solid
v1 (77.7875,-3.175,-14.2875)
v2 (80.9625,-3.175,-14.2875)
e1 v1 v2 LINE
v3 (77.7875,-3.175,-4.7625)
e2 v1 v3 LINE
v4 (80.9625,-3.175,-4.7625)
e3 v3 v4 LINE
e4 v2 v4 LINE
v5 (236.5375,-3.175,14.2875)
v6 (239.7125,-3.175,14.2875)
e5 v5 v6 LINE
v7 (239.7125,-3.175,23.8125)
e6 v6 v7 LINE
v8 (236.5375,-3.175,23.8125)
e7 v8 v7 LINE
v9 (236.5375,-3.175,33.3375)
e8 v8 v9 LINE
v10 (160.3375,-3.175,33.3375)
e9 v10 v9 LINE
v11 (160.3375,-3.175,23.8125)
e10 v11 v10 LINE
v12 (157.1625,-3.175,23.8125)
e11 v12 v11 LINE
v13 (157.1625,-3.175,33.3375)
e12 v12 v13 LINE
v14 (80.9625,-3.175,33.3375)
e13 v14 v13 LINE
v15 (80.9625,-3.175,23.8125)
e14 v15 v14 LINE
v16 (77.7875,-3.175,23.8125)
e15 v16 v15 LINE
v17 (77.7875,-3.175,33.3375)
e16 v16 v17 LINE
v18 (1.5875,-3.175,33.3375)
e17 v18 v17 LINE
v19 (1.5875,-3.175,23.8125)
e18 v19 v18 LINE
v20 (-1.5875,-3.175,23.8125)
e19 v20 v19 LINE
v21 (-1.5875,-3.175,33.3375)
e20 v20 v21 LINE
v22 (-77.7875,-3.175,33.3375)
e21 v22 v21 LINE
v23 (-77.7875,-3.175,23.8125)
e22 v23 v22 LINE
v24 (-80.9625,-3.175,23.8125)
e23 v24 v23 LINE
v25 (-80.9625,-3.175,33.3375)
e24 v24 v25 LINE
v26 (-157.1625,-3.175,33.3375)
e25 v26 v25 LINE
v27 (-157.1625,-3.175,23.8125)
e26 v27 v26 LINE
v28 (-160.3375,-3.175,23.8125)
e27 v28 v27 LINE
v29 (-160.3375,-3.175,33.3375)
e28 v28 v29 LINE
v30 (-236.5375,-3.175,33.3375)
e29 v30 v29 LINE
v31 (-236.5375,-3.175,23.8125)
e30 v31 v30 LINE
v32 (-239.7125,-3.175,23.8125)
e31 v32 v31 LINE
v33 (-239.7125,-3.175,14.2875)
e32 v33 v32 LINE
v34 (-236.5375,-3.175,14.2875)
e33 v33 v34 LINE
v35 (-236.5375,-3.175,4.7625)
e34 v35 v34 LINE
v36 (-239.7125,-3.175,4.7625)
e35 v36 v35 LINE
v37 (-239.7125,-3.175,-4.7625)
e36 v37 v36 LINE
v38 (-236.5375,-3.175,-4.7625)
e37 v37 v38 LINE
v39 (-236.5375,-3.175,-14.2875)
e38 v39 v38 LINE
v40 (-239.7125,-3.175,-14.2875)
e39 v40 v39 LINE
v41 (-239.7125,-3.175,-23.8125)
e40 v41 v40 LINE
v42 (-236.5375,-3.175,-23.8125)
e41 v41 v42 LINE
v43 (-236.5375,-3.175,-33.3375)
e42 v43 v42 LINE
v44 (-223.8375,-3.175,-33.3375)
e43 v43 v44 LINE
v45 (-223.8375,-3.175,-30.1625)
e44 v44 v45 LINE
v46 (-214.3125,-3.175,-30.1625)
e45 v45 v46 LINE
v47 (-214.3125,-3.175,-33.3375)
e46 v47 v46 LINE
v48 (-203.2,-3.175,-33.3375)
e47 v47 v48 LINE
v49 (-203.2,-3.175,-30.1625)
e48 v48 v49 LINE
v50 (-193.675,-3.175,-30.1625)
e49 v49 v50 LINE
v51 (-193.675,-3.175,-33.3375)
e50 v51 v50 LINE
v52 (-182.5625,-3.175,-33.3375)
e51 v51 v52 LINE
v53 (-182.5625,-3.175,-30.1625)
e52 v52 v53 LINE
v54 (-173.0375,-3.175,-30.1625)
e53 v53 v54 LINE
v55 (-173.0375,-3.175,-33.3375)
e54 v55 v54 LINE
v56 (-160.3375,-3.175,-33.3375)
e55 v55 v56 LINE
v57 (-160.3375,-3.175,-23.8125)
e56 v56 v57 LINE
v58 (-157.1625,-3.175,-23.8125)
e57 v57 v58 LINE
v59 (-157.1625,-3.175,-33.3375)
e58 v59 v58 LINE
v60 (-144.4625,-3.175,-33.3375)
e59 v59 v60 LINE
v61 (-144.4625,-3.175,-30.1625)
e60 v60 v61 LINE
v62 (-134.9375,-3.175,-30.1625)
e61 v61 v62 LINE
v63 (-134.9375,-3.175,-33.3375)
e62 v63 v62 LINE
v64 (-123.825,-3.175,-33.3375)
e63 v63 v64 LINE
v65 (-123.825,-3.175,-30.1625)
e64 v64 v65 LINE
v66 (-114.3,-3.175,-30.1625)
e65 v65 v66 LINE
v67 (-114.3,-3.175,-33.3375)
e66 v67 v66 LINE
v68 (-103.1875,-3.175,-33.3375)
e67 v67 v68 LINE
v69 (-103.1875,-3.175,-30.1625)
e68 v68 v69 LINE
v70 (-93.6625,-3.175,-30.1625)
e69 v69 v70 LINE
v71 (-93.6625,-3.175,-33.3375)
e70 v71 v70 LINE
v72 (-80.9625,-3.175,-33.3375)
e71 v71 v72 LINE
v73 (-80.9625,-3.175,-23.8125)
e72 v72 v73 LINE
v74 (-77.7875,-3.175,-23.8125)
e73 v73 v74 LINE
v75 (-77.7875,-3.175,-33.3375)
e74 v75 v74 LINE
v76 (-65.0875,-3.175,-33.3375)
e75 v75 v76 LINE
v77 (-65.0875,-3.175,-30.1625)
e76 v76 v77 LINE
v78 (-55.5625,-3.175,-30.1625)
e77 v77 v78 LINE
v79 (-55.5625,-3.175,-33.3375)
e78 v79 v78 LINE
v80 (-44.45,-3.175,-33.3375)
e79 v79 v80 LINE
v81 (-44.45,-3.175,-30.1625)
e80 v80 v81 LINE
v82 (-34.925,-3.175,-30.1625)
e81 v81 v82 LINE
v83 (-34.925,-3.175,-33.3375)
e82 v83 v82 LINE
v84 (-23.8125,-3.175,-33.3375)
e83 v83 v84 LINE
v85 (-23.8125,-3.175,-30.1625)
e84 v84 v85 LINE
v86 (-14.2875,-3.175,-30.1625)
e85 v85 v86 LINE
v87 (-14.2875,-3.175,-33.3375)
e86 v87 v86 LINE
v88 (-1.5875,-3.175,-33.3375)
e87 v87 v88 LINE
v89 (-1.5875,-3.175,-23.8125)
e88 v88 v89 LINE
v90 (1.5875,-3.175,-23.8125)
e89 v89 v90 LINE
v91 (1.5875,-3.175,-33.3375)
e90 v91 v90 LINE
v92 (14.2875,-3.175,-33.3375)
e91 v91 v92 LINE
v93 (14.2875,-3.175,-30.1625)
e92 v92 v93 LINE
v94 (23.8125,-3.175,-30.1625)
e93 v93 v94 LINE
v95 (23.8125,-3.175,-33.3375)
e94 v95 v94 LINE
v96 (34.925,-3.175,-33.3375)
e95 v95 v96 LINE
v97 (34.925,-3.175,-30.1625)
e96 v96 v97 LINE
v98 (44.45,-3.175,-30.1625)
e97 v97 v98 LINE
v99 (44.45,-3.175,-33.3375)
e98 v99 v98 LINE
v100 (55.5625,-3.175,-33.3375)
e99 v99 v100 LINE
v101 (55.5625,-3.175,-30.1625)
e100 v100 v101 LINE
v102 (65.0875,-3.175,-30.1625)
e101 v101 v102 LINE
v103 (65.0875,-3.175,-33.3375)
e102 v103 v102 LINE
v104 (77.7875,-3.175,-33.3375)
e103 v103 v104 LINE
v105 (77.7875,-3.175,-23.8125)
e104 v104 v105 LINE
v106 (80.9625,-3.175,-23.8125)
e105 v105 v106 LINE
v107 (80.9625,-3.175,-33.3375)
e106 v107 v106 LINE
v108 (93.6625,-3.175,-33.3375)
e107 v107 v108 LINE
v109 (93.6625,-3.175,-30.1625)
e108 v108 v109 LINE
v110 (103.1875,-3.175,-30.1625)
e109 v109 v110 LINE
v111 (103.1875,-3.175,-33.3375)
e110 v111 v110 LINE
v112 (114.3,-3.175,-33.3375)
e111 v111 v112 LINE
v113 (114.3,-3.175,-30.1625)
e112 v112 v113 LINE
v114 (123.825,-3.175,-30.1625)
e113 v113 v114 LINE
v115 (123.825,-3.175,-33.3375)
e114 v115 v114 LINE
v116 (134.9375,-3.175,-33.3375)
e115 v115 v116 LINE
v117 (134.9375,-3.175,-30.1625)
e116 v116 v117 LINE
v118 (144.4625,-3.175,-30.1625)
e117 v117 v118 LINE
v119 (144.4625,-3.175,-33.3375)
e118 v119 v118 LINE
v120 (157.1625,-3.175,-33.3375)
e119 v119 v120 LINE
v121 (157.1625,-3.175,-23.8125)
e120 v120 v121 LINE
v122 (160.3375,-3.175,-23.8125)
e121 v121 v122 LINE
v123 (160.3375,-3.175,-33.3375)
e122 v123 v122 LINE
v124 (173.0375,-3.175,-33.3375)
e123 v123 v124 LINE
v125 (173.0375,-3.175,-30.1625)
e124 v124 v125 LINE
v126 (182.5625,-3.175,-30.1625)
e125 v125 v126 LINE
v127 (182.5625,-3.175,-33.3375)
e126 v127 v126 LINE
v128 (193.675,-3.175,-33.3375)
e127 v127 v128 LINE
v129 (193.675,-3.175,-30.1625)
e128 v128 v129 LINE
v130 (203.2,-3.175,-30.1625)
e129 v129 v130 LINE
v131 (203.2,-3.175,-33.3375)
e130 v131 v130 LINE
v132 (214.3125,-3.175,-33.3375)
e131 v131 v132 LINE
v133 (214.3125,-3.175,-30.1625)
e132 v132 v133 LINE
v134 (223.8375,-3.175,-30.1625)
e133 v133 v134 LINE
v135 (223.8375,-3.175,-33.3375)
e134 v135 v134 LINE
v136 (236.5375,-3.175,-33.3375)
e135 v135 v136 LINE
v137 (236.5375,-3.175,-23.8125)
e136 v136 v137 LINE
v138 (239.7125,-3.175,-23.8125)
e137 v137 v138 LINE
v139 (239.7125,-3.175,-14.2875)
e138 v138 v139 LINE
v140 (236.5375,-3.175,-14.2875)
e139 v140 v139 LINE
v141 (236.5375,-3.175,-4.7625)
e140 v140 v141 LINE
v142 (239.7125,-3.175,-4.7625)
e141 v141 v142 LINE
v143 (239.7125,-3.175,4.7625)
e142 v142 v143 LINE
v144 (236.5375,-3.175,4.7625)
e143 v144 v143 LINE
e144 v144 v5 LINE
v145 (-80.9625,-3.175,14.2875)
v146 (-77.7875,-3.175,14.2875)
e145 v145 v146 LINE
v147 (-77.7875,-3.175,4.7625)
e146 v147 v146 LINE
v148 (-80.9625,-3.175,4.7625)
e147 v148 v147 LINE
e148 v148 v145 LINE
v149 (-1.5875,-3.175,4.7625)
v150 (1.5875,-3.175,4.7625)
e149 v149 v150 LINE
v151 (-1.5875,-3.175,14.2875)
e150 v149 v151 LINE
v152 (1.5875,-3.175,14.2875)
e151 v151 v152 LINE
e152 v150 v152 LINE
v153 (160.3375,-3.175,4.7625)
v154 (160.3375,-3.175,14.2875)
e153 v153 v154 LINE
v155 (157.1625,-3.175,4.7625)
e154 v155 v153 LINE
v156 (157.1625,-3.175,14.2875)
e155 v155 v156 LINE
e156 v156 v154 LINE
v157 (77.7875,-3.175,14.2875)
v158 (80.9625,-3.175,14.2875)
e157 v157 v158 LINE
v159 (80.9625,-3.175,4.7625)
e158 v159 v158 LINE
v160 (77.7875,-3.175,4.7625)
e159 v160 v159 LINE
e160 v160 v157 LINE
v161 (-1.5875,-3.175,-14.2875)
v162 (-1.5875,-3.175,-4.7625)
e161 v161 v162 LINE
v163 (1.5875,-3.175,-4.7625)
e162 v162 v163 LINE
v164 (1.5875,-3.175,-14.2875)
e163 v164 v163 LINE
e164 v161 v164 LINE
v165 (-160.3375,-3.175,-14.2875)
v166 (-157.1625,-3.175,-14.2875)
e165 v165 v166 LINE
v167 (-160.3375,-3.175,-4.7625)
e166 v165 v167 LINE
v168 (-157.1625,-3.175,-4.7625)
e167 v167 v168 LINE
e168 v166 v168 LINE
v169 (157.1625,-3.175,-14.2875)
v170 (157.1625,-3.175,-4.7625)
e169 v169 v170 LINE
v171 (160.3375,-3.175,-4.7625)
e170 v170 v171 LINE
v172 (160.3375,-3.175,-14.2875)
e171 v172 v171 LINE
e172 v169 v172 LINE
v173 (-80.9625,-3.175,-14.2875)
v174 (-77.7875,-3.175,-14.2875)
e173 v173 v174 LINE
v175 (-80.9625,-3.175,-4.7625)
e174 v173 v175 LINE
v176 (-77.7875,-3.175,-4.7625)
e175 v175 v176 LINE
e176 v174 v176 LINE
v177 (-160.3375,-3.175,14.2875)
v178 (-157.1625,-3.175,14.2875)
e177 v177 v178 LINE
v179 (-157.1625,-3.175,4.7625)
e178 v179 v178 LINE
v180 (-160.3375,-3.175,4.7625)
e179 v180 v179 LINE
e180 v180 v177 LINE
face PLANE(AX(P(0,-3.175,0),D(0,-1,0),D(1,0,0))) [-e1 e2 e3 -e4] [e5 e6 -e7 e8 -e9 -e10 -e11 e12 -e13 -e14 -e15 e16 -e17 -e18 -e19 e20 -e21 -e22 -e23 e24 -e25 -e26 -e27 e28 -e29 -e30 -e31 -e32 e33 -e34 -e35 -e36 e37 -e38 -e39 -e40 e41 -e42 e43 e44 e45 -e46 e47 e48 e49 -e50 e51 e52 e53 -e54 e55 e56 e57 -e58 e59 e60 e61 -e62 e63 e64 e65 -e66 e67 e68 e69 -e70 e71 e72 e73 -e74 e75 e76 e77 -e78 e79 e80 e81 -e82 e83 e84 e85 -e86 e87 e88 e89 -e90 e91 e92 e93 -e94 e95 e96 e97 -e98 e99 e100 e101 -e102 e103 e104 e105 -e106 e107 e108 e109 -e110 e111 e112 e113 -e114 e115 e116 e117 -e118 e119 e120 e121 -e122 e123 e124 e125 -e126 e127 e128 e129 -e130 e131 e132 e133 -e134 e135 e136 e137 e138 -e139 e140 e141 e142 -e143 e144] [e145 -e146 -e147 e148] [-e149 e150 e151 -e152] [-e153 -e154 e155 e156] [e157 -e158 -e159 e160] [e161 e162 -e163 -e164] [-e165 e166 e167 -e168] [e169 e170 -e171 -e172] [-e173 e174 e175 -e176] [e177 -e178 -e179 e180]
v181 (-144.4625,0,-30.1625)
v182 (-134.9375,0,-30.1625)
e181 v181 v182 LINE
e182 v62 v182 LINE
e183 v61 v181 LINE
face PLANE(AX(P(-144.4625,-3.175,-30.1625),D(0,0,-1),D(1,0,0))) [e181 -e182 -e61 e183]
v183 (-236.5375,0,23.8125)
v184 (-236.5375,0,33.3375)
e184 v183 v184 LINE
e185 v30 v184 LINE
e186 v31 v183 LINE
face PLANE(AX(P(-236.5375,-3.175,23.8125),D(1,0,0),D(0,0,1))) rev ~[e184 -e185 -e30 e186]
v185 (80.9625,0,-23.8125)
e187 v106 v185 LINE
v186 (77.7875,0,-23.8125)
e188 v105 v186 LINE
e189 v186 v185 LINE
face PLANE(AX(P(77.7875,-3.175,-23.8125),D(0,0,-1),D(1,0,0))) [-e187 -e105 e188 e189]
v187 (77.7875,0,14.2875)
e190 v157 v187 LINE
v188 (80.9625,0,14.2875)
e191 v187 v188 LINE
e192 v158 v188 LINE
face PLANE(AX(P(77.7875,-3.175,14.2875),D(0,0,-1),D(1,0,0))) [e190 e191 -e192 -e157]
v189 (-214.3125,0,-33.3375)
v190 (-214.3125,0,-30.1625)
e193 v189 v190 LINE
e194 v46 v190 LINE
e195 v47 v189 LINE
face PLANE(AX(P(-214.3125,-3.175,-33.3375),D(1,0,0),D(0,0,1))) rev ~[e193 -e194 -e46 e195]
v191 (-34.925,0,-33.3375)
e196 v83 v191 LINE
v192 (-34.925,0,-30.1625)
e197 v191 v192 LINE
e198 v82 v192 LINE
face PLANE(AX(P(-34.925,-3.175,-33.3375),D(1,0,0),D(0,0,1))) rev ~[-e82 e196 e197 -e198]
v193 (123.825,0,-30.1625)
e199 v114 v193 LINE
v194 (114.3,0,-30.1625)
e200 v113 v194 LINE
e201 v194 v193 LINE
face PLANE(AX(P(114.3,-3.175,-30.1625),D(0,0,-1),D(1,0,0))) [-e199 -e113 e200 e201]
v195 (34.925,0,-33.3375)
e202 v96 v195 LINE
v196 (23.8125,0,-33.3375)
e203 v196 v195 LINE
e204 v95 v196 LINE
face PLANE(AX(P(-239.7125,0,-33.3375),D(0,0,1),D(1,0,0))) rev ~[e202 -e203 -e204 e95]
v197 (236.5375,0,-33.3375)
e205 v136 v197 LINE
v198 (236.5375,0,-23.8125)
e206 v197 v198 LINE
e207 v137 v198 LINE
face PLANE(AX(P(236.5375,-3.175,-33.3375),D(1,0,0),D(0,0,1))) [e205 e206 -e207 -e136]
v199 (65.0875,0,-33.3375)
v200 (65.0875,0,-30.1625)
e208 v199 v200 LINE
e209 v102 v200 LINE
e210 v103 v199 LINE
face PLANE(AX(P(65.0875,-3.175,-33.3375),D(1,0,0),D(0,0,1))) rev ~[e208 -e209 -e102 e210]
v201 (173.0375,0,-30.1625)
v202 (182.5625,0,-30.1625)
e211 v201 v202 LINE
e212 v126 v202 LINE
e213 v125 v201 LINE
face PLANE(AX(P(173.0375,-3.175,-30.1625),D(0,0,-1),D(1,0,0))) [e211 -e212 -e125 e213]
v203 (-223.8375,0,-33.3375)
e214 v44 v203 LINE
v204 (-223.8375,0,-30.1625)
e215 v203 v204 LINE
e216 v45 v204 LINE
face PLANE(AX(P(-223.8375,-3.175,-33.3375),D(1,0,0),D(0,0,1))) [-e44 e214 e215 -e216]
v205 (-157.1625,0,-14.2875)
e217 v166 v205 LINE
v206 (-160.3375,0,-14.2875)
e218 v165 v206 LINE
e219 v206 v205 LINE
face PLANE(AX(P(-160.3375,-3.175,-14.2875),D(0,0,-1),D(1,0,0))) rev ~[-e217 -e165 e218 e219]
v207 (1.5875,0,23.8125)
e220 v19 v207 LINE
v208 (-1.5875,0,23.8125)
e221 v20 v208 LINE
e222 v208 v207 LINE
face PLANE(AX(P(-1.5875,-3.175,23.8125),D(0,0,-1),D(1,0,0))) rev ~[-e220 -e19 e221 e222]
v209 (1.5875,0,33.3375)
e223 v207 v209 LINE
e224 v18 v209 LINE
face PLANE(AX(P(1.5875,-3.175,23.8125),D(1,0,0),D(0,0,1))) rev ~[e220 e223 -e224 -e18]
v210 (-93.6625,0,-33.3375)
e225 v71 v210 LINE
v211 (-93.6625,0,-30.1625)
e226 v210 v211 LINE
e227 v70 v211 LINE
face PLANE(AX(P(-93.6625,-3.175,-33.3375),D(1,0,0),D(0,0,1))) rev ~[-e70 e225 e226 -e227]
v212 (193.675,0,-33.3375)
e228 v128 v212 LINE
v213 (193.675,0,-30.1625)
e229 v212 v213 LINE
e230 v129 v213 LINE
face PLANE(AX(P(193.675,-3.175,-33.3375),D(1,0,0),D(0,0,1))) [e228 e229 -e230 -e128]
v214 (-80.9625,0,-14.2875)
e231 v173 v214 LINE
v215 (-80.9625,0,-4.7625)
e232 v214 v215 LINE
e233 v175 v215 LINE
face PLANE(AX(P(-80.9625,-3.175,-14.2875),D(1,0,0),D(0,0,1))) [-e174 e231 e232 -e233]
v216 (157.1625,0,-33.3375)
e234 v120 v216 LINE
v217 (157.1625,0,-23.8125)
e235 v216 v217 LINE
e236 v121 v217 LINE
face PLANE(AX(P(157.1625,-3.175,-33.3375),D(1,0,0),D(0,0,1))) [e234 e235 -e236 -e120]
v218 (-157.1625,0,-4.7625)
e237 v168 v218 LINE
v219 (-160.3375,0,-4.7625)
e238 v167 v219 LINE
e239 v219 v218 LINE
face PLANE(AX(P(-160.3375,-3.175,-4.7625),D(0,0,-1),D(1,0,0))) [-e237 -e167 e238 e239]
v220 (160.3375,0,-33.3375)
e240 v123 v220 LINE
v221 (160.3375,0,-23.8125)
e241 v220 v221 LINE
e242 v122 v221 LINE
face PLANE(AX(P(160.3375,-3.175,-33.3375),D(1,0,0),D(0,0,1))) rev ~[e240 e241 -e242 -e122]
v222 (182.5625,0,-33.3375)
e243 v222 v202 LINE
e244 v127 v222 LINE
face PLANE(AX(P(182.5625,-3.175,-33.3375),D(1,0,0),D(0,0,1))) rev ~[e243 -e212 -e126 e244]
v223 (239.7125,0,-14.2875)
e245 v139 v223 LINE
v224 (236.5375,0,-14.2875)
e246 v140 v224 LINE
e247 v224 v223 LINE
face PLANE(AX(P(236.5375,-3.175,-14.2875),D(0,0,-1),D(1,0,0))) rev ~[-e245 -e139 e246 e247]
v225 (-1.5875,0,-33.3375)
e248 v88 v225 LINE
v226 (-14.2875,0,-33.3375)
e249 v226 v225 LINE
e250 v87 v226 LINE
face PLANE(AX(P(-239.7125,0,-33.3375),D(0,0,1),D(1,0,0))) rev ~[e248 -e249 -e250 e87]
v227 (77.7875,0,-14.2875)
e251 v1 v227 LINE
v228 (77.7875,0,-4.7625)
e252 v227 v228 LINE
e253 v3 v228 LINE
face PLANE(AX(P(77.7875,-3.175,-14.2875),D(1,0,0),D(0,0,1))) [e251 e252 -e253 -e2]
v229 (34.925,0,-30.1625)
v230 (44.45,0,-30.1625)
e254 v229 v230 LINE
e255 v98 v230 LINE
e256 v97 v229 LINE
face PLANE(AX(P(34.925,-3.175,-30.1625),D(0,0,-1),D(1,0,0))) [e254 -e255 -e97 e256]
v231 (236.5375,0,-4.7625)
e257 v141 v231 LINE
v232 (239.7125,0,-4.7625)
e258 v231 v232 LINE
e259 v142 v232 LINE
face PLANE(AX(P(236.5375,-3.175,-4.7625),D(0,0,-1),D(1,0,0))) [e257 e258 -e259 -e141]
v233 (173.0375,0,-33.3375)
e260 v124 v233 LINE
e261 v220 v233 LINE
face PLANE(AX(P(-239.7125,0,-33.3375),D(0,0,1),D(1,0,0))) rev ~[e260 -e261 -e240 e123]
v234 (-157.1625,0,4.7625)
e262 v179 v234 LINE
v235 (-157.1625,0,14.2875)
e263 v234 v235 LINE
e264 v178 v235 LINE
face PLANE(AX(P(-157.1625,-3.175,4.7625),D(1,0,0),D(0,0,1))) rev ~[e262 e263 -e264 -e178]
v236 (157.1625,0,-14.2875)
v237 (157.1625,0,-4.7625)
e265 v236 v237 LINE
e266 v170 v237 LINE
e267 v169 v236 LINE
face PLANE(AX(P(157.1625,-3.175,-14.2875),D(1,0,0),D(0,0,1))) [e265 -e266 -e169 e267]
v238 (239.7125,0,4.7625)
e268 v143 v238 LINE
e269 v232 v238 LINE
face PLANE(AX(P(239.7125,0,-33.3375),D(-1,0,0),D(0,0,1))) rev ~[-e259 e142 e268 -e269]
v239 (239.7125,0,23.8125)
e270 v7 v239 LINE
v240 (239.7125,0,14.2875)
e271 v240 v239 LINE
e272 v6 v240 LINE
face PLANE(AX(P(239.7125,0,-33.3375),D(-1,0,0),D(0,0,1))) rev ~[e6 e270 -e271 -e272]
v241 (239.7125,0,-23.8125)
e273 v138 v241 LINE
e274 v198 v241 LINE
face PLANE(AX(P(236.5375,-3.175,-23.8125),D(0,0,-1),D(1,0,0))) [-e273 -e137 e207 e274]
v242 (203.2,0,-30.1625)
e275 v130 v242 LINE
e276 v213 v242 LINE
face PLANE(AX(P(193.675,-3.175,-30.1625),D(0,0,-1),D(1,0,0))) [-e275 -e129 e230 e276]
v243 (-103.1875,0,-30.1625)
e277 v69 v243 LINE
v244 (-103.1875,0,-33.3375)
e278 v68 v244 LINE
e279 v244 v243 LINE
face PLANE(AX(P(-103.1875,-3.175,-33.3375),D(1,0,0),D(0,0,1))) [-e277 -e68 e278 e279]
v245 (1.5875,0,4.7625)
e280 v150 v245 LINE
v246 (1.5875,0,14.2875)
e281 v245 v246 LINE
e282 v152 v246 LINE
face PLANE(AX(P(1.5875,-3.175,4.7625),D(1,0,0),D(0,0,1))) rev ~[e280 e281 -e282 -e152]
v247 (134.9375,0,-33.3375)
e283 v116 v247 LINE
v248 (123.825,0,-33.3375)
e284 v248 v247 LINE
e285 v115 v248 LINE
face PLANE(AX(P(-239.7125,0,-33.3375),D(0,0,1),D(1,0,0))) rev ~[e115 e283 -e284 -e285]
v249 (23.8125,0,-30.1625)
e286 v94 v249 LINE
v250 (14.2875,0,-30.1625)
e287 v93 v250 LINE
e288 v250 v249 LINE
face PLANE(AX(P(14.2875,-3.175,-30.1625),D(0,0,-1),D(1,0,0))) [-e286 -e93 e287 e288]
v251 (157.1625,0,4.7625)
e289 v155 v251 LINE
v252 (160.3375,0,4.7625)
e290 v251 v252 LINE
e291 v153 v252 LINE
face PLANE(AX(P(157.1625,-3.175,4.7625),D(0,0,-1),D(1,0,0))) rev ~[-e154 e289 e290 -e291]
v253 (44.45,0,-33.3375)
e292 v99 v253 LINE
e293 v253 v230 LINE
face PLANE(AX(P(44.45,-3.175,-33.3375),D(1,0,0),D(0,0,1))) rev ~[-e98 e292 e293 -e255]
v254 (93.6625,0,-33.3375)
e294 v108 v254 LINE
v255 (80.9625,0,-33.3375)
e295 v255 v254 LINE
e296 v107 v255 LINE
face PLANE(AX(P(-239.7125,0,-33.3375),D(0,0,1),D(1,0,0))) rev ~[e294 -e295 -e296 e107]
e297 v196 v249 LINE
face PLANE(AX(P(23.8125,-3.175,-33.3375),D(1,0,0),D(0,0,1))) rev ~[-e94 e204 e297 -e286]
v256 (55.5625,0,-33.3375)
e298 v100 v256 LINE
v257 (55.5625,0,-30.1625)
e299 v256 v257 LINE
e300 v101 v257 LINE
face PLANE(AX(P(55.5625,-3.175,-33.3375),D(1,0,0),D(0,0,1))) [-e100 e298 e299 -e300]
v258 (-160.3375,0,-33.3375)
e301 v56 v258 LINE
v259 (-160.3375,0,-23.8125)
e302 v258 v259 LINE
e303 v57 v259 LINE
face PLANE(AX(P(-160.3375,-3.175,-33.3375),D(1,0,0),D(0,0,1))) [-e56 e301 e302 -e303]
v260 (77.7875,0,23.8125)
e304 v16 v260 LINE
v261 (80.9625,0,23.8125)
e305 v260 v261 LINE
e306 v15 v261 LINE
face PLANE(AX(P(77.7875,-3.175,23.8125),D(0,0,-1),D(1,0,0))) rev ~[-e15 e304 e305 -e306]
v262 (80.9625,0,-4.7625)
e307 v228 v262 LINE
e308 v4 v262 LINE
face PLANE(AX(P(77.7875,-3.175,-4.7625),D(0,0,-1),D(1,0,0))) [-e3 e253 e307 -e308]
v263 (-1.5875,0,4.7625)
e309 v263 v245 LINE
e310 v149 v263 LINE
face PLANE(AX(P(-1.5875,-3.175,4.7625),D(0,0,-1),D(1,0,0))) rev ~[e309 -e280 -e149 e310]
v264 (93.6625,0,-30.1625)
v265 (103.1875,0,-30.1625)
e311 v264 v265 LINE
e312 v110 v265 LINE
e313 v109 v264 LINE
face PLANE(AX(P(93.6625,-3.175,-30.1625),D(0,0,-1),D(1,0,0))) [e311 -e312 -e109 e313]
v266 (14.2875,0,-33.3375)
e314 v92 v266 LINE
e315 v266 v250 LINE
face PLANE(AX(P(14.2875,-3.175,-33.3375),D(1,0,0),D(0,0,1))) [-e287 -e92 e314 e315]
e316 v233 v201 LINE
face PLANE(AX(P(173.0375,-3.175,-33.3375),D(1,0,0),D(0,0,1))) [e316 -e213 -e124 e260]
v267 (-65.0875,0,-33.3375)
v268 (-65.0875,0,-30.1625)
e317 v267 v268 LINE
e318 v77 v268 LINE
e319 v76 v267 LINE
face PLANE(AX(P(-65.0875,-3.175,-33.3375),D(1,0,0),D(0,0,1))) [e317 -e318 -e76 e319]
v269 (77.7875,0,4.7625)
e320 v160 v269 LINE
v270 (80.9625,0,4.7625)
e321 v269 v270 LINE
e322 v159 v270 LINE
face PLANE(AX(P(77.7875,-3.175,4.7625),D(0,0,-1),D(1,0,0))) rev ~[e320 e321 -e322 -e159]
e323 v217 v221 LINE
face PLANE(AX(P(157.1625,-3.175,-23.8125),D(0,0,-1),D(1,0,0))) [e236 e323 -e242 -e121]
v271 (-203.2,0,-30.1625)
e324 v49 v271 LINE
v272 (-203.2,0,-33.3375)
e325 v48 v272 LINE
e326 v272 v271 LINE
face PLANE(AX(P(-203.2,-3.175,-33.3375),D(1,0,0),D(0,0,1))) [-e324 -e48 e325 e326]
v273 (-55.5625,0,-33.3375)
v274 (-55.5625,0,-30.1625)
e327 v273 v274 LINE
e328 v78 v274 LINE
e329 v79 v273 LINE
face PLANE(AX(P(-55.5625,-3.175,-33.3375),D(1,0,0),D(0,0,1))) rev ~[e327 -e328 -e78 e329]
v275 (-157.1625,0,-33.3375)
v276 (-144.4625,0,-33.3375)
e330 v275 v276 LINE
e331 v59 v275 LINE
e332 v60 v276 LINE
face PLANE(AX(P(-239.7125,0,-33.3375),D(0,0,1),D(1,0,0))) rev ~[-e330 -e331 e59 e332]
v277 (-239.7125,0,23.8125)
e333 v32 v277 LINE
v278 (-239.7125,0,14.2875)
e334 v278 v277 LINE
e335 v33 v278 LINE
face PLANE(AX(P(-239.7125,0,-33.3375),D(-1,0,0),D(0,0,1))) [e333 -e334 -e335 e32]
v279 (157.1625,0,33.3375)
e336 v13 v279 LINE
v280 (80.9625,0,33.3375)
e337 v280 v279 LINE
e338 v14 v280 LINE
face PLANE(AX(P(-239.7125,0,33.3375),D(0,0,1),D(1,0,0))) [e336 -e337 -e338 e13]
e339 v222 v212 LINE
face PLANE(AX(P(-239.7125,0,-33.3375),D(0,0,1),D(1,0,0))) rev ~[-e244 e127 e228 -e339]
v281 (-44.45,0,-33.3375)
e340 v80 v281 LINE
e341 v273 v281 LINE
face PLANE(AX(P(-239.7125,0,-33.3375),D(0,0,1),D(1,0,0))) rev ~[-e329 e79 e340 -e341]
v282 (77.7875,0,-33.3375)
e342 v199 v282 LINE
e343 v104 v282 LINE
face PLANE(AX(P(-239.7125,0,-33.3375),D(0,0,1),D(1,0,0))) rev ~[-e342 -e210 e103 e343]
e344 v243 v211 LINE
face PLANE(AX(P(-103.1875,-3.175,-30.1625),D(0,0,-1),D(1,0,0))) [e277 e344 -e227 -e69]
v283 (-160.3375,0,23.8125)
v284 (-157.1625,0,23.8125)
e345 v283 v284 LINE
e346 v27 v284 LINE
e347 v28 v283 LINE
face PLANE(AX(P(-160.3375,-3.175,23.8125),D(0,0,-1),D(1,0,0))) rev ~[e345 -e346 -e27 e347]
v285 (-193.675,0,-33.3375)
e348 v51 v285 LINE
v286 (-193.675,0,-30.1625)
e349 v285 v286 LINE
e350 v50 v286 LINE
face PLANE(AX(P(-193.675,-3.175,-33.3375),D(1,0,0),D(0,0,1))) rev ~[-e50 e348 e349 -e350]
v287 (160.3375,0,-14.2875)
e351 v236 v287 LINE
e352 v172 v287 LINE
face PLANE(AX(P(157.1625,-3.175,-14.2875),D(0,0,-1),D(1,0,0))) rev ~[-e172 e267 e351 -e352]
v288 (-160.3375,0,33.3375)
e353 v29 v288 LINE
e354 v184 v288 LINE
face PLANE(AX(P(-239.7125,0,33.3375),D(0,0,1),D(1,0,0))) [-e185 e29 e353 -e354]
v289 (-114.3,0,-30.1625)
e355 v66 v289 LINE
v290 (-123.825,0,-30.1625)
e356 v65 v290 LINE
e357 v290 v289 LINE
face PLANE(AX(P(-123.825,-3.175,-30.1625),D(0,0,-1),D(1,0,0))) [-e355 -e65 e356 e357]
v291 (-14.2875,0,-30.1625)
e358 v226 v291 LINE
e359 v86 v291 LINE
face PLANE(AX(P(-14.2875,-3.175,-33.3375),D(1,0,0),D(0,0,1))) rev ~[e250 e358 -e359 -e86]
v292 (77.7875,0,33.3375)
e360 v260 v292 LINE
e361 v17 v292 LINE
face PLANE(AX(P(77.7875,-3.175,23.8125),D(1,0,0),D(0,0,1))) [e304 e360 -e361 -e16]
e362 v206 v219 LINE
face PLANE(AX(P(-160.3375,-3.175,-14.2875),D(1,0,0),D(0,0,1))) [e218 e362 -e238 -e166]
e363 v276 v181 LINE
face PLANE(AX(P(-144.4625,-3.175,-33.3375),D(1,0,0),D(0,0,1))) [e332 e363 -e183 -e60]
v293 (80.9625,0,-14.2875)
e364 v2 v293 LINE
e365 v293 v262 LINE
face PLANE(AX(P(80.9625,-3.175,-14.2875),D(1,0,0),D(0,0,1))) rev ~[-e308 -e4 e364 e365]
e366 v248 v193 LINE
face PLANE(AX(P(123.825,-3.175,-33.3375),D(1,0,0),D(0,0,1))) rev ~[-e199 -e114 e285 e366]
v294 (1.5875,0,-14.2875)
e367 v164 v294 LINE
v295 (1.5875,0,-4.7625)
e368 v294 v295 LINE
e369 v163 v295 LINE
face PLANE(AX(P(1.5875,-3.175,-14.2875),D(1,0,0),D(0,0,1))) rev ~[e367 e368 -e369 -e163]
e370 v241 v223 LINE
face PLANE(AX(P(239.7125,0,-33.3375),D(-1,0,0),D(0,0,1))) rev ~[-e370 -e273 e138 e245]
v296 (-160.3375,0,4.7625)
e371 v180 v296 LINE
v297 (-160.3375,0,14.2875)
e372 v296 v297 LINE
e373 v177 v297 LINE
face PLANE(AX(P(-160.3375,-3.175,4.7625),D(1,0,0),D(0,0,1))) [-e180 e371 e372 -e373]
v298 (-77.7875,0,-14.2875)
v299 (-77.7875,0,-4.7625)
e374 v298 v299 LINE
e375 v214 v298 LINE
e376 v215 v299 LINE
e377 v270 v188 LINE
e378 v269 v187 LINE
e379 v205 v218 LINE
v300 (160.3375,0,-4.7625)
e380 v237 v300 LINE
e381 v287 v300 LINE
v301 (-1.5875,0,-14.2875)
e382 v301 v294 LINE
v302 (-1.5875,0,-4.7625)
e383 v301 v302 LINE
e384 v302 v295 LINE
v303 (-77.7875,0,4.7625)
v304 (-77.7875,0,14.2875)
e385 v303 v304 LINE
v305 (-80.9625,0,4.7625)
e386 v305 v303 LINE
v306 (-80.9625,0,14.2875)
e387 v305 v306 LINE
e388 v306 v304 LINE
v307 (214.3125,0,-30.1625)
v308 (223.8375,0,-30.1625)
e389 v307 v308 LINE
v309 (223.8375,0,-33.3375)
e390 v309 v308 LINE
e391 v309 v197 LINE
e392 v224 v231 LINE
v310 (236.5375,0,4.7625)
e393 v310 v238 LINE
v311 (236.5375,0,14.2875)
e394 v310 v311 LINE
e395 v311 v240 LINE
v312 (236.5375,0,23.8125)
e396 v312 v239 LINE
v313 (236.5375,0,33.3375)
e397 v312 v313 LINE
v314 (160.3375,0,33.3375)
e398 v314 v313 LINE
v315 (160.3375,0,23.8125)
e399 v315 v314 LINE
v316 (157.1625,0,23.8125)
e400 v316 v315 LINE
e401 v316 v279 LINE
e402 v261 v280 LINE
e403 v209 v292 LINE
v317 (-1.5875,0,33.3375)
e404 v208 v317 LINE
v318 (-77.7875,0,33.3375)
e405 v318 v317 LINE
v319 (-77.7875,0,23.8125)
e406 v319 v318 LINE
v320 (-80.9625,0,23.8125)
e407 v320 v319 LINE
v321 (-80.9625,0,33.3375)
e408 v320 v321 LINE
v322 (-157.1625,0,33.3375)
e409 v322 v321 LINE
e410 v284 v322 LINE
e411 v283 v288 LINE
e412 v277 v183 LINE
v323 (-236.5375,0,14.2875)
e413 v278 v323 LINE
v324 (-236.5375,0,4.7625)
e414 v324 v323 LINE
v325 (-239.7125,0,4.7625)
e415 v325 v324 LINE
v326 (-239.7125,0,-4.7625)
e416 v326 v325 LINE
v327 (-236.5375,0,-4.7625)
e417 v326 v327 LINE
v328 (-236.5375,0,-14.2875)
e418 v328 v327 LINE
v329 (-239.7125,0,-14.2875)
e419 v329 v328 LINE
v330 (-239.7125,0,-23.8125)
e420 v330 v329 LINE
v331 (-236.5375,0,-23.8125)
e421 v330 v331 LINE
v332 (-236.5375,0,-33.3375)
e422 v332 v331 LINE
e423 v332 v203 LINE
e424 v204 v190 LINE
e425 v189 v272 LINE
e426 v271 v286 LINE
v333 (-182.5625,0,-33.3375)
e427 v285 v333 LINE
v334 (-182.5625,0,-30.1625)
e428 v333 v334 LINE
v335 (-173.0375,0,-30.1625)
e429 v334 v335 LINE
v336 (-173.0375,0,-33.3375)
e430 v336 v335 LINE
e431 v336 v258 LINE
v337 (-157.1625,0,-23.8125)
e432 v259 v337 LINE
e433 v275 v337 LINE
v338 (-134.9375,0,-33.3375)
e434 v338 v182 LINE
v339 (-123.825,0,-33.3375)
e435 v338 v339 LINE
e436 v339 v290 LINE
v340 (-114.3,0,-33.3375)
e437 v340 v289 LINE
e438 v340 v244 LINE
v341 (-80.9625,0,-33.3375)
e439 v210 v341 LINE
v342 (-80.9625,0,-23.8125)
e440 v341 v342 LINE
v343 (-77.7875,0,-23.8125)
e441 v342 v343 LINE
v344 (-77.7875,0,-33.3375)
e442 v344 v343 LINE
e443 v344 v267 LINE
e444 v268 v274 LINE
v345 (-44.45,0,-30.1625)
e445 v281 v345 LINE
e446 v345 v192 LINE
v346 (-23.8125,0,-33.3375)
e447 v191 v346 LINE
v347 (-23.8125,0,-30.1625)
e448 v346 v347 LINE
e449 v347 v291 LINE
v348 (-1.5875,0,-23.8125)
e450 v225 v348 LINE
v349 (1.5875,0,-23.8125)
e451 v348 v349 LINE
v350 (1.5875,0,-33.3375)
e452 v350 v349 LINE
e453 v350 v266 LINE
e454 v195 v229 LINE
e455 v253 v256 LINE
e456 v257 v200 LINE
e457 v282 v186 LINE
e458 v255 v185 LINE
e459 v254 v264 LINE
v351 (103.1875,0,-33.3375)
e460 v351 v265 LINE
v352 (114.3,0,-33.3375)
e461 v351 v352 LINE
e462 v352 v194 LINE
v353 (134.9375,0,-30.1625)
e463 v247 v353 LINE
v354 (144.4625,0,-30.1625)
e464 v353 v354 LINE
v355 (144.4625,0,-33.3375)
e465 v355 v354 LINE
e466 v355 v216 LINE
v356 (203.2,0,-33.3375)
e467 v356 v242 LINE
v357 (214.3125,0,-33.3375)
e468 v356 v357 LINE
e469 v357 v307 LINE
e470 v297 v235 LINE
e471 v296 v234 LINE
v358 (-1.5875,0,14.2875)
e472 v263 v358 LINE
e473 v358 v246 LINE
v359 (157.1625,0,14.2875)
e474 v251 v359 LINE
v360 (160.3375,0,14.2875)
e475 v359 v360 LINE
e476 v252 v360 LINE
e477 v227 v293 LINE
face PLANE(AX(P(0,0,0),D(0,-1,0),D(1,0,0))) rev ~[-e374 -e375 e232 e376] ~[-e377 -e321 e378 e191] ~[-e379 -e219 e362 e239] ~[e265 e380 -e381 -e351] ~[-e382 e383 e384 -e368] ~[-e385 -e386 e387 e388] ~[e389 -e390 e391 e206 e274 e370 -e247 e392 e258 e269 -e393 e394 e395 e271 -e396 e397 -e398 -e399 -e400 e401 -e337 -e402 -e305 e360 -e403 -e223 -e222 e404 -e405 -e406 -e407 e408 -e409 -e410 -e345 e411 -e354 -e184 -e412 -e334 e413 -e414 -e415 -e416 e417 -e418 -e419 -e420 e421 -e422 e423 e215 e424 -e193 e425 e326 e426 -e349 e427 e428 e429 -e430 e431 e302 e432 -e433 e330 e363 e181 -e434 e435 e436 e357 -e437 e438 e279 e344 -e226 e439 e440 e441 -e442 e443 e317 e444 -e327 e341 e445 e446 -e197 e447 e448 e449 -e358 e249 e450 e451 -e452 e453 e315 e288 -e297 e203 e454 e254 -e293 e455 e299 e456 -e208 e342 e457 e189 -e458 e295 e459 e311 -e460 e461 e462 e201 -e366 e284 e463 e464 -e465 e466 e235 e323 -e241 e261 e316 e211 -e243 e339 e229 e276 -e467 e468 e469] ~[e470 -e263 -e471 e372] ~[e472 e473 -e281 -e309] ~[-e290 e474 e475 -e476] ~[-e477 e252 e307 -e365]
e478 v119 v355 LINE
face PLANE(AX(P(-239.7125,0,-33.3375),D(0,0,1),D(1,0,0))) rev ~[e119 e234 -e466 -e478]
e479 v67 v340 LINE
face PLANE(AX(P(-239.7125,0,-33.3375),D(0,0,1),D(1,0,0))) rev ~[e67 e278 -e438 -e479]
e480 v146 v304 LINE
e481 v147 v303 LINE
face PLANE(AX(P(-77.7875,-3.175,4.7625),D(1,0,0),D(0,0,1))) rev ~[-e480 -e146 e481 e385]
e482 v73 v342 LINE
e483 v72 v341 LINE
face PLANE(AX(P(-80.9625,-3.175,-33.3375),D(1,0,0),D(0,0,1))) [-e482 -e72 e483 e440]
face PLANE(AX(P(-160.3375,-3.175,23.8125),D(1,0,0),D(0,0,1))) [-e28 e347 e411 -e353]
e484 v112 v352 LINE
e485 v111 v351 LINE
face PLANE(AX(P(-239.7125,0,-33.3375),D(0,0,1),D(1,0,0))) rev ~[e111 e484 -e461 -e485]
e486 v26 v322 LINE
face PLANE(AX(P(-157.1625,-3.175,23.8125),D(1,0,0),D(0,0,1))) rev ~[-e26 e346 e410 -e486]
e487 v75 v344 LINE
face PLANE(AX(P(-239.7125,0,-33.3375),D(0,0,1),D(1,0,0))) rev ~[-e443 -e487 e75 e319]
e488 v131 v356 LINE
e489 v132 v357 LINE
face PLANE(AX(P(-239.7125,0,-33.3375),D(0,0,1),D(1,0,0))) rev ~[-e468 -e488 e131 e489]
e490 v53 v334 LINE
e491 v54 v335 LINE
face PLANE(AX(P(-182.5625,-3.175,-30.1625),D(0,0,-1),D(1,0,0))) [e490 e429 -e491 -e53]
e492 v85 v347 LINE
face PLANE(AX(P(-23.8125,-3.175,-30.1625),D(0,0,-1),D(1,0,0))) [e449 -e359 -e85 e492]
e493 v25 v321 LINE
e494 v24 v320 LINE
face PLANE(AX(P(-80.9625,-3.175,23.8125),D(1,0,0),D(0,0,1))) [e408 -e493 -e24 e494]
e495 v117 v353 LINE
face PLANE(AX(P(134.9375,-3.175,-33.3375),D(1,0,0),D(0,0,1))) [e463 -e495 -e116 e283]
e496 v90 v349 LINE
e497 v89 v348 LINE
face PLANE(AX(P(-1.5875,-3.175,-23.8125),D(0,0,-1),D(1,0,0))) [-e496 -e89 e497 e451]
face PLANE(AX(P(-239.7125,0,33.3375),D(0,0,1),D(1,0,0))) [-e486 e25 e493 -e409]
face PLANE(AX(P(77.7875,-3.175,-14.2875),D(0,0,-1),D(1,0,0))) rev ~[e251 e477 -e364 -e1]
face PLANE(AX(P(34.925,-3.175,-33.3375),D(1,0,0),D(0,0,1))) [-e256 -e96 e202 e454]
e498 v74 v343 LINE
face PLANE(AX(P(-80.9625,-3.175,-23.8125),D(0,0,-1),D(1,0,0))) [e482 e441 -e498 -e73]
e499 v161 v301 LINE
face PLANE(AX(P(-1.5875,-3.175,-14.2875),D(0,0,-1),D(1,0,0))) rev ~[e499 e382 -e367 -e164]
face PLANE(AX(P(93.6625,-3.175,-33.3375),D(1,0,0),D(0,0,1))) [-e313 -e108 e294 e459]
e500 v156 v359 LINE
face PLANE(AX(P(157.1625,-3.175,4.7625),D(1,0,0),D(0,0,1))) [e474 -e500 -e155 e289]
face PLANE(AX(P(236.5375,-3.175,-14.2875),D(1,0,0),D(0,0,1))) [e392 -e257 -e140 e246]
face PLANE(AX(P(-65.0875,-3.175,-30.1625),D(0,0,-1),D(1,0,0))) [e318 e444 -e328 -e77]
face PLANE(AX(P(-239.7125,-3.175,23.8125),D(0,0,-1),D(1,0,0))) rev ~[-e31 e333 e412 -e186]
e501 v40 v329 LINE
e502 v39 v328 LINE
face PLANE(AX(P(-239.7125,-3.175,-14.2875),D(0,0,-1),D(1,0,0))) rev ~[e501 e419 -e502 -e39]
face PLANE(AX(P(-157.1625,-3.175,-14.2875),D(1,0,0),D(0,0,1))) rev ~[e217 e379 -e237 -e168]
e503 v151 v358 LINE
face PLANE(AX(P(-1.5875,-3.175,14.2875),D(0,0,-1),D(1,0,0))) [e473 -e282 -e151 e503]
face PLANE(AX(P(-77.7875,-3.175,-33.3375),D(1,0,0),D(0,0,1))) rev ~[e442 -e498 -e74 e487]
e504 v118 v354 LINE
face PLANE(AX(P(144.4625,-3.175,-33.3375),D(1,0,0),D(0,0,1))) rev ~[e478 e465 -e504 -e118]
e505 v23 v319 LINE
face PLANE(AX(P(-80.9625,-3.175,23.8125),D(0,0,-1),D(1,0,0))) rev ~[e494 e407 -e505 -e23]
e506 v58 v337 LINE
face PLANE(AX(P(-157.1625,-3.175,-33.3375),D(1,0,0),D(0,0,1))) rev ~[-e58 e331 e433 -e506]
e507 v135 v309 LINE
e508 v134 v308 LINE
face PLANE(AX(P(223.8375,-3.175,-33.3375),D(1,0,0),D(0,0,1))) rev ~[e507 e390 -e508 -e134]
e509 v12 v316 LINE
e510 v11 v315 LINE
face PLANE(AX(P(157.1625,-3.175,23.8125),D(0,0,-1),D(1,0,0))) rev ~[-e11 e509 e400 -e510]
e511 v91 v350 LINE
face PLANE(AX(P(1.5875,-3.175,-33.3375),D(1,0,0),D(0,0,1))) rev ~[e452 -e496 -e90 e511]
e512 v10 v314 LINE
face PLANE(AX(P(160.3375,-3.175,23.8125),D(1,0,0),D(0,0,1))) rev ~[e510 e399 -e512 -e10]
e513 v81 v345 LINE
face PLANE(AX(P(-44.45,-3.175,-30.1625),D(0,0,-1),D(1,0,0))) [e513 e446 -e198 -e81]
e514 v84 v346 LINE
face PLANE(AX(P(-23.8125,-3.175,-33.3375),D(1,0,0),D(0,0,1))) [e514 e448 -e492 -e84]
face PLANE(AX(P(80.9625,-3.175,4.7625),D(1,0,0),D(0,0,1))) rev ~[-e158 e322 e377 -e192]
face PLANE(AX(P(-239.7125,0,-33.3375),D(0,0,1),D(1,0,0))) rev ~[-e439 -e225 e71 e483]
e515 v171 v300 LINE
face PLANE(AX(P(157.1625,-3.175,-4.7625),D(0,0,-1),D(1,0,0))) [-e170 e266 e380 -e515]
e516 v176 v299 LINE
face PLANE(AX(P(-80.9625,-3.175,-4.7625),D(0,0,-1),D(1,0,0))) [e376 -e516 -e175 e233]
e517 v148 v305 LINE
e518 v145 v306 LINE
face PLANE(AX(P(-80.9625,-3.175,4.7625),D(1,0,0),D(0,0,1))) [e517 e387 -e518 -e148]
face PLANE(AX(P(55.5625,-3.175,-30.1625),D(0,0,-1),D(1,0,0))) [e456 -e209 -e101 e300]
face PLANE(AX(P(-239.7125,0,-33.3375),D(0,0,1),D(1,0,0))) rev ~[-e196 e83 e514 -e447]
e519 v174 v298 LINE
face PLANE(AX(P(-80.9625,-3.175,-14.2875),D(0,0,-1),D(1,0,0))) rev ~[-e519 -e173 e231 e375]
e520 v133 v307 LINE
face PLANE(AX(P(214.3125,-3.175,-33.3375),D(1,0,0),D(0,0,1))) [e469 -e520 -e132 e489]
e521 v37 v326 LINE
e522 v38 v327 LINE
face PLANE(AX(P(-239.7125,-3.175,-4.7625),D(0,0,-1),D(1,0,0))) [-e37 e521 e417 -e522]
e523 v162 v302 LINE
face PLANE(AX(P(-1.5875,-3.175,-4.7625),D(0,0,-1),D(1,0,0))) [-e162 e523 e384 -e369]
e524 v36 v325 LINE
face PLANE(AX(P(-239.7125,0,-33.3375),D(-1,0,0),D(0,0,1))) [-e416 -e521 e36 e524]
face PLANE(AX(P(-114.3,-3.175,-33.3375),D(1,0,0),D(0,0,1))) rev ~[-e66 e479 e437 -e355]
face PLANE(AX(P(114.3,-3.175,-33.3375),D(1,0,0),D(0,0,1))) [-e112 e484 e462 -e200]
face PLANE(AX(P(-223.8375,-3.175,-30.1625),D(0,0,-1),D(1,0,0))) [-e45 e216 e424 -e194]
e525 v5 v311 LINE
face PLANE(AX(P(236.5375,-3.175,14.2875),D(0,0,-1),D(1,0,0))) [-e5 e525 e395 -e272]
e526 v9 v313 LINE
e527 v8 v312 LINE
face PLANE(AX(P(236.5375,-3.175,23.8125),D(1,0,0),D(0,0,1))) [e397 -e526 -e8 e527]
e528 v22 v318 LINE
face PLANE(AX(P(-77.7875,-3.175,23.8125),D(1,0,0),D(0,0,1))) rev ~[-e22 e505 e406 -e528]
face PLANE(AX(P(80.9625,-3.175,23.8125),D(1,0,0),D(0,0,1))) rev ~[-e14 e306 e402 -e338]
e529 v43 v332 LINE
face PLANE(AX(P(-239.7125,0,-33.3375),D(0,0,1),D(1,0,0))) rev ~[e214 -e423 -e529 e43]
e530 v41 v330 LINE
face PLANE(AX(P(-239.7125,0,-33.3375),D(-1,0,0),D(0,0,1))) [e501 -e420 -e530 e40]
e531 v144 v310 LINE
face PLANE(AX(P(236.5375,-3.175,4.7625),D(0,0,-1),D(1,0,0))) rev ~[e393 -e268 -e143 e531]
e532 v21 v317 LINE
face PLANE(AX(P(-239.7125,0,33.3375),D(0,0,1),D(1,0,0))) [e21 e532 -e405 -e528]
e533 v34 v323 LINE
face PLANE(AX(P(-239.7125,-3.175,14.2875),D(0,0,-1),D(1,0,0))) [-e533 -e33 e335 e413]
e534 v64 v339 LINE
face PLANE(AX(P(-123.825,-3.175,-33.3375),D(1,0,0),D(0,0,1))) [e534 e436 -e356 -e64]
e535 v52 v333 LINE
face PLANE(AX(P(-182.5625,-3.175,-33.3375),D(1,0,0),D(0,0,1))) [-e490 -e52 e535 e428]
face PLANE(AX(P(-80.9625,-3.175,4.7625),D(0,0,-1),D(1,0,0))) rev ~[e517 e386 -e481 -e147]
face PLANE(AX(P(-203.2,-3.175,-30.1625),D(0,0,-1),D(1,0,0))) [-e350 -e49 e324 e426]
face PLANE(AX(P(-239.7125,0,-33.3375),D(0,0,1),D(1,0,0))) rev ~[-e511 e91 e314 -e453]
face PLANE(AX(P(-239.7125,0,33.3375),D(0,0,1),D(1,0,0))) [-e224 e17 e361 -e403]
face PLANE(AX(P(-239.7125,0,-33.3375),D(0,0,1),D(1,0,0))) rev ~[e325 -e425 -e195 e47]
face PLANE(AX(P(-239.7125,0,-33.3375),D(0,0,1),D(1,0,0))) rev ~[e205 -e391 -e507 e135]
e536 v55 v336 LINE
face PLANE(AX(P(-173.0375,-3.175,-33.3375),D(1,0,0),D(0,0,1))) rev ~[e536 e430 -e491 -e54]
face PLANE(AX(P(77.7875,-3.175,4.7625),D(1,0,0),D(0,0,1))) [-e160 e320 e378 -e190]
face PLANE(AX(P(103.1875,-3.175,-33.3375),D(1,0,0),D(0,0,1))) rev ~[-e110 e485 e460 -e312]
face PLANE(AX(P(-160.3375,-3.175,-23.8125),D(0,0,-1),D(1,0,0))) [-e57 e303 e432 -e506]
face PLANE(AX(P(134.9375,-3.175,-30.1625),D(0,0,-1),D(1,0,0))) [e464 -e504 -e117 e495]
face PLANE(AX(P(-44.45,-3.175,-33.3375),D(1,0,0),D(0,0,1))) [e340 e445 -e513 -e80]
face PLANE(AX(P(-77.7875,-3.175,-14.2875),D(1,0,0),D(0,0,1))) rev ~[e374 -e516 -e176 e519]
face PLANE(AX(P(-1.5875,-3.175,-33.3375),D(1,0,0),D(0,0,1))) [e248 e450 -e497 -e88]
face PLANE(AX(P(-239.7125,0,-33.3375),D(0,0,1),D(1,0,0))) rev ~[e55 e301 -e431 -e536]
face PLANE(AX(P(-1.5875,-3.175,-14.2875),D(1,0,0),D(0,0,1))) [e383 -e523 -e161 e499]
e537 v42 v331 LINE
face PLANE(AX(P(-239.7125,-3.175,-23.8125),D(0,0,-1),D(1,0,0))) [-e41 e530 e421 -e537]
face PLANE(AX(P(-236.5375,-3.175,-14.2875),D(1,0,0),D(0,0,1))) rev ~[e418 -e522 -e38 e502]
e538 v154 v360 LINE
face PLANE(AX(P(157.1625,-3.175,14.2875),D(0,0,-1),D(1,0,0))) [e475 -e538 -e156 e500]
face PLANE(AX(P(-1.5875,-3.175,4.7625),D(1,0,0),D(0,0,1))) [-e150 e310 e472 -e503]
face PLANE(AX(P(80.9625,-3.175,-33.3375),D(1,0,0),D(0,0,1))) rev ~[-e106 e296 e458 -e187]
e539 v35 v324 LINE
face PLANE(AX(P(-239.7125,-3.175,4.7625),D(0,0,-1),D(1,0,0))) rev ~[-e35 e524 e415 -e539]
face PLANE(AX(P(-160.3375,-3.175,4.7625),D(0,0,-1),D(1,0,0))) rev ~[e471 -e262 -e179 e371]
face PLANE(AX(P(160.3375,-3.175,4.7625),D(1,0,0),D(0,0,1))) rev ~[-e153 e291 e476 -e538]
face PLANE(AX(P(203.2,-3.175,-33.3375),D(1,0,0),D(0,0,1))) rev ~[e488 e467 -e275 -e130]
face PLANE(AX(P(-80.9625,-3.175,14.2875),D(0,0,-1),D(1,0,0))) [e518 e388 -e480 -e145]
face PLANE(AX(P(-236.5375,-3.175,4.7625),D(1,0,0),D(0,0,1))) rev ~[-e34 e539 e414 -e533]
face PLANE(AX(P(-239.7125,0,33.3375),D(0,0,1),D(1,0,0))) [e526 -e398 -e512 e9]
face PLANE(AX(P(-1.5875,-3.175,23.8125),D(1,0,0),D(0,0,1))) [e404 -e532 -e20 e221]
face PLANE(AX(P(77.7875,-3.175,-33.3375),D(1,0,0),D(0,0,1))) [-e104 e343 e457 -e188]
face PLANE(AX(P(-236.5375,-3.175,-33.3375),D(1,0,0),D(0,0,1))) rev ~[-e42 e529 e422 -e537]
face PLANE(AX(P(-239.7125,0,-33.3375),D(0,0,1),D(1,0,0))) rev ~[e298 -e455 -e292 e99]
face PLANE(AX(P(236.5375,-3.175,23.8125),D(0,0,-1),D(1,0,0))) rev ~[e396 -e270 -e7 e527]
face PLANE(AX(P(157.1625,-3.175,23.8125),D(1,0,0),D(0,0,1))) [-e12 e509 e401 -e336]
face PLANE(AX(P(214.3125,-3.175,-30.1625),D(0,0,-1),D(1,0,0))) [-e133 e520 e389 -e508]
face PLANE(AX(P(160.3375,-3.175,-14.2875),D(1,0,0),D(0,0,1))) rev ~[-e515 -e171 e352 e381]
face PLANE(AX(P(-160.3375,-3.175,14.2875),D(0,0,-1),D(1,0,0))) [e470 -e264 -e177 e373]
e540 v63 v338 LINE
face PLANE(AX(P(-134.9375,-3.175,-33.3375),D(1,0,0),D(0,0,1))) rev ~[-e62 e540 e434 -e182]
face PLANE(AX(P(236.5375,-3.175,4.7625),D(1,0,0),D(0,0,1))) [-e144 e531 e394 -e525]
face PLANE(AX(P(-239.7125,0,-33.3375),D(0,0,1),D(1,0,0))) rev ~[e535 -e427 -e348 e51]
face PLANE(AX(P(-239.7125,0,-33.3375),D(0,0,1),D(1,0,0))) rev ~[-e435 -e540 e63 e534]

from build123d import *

# Parameters (mm, degrees)
F0_W     = 479.425
F0_H     = 66.675
F1_DEPTH = 3.175
F2_W     = 3.175
F2_H     = 9.525
F3_DEPTH = 3.176
F4_W     = 9.525
F4_H     = 3.175
F5_DEPTH = 3.176


with BuildPart() as f1:
    # F0 (on Front) → F1 (new body)
    with BuildSketch(Plane.XZ):
        Rectangle(F0_W, F0_H)
    extrude(amount=F1_DEPTH)

    # F2 (on face) → F3 (cut, through all)
    with BuildSketch(Plane.XZ.offset(3.175)):
        with Locations((-238.125, -28.575)):
            Rectangle(F2_W, F2_H)
        with Locations((-238.125, -9.525)):
            Rectangle(F2_W, F2_H)
        with Locations((-238.125, 9.525)):
            Rectangle(F2_W, F2_H)
        with Locations((-238.125, 28.575)):
            Rectangle(F2_W, F2_H)
        with Locations((-158.75, -28.575)):
            Rectangle(F2_W, F2_H)
        with Locations((-158.75, -9.525)):
            Rectangle(F2_W, F2_H)
        with Locations((-158.75, 9.525)):
            Rectangle(F2_W, F2_H)
        with Locations((-158.75, 28.575)):
            Rectangle(F2_W, F2_H)
        with Locations((-79.375, -28.575)):
            Rectangle(F2_W, F2_H)
        with Locations((-79.375, -9.525)):
            Rectangle(F2_W, F2_H)
        with Locations((-79.375, 9.525)):
            Rectangle(F2_W, F2_H)
        with Locations((-79.375, 28.575)):
            Rectangle(F2_W, F2_H)
        with Locations((0, -28.575)):
            Rectangle(F2_W, F2_H)
        with Locations((0, -9.525)):
            Rectangle(F2_W, F2_H)
        with Locations((0, 9.525)):
            Rectangle(F2_W, F2_H)
        with Locations((0, 28.575)):
            Rectangle(F2_W, F2_H)
        with Locations((79.375, -28.575)):
            Rectangle(F2_W, F2_H)
        with Locations((79.375, -9.525)):
            Rectangle(F2_W, F2_H)
        with Locations((79.375, 9.525)):
            Rectangle(F2_W, F2_H)
        with Locations((79.375, 28.575)):
            Rectangle(F2_W, F2_H)
        with Locations((158.75, -28.575)):
            Rectangle(F2_W, F2_H)
        with Locations((158.75, -9.525)):
            Rectangle(F2_W, F2_H)
        with Locations((158.75, 9.525)):
            Rectangle(F2_W, F2_H)
        with Locations((158.75, 28.575)):
            Rectangle(F2_W, F2_H)
        with Locations((238.125, -28.575)):
            Rectangle(F2_W, F2_H)
        with Locations((238.125, -9.525)):
            Rectangle(F2_W, F2_H)
        with Locations((238.125, 9.525)):
            Rectangle(F2_W, F2_H)
        with Locations((238.125, 28.575)):
            Rectangle(F2_W, F2_H)
    extrude(amount=-F3_DEPTH, mode=Mode.SUBTRACT)

    # F4 (on face) → F5 (cut, through all)
    with BuildSketch(Plane.XZ.offset(3.175)):
        with Locations((-219.075, -31.75)):
            Rectangle(F4_W, F4_H)
        with Locations((-198.4375, -31.75)):
            Rectangle(F4_W, F4_H)
        with Locations((-177.8, -31.75)):
            Rectangle(F4_W, F4_H)
        with Locations((-139.7, -31.75)):
            Rectangle(F4_W, F4_H)
        with Locations((-119.0625, -31.75)):
            Rectangle(F4_W, F4_H)
        with Locations((-98.425, -31.75)):
            Rectangle(F4_W, F4_H)
        with Locations((-60.325, -31.75)):
            Rectangle(F4_W, F4_H)
        with Locations((-39.6875, -31.75)):
            Rectangle(F4_W, F4_H)
        with Locations((-19.05, -31.75)):
            Rectangle(F4_W, F4_H)
        with Locations((19.05, -31.75)):
            Rectangle(F4_W, F4_H)
        with Locations((39.6875, -31.75)):
            Rectangle(F4_W, F4_H)
        with Locations((60.325, -31.75)):
            Rectangle(F4_W, F4_H)
        with Locations((98.425, -31.75)):
            Rectangle(F4_W, F4_H)
        with Locations((119.0625, -31.75)):
            Rectangle(F4_W, F4_H)
        with Locations((139.7, -31.75)):
            Rectangle(F4_W, F4_H)
        with Locations((177.8, -31.75)):
            Rectangle(F4_W, F4_H)
        with Locations((198.4375, -31.75)):
            Rectangle(F4_W, F4_H)
        with Locations((219.075, -31.75)):
            Rectangle(F4_W, F4_H)
    extrude(amount=-F5_DEPTH, mode=Mode.SUBTRACT)


solid = f1.part
